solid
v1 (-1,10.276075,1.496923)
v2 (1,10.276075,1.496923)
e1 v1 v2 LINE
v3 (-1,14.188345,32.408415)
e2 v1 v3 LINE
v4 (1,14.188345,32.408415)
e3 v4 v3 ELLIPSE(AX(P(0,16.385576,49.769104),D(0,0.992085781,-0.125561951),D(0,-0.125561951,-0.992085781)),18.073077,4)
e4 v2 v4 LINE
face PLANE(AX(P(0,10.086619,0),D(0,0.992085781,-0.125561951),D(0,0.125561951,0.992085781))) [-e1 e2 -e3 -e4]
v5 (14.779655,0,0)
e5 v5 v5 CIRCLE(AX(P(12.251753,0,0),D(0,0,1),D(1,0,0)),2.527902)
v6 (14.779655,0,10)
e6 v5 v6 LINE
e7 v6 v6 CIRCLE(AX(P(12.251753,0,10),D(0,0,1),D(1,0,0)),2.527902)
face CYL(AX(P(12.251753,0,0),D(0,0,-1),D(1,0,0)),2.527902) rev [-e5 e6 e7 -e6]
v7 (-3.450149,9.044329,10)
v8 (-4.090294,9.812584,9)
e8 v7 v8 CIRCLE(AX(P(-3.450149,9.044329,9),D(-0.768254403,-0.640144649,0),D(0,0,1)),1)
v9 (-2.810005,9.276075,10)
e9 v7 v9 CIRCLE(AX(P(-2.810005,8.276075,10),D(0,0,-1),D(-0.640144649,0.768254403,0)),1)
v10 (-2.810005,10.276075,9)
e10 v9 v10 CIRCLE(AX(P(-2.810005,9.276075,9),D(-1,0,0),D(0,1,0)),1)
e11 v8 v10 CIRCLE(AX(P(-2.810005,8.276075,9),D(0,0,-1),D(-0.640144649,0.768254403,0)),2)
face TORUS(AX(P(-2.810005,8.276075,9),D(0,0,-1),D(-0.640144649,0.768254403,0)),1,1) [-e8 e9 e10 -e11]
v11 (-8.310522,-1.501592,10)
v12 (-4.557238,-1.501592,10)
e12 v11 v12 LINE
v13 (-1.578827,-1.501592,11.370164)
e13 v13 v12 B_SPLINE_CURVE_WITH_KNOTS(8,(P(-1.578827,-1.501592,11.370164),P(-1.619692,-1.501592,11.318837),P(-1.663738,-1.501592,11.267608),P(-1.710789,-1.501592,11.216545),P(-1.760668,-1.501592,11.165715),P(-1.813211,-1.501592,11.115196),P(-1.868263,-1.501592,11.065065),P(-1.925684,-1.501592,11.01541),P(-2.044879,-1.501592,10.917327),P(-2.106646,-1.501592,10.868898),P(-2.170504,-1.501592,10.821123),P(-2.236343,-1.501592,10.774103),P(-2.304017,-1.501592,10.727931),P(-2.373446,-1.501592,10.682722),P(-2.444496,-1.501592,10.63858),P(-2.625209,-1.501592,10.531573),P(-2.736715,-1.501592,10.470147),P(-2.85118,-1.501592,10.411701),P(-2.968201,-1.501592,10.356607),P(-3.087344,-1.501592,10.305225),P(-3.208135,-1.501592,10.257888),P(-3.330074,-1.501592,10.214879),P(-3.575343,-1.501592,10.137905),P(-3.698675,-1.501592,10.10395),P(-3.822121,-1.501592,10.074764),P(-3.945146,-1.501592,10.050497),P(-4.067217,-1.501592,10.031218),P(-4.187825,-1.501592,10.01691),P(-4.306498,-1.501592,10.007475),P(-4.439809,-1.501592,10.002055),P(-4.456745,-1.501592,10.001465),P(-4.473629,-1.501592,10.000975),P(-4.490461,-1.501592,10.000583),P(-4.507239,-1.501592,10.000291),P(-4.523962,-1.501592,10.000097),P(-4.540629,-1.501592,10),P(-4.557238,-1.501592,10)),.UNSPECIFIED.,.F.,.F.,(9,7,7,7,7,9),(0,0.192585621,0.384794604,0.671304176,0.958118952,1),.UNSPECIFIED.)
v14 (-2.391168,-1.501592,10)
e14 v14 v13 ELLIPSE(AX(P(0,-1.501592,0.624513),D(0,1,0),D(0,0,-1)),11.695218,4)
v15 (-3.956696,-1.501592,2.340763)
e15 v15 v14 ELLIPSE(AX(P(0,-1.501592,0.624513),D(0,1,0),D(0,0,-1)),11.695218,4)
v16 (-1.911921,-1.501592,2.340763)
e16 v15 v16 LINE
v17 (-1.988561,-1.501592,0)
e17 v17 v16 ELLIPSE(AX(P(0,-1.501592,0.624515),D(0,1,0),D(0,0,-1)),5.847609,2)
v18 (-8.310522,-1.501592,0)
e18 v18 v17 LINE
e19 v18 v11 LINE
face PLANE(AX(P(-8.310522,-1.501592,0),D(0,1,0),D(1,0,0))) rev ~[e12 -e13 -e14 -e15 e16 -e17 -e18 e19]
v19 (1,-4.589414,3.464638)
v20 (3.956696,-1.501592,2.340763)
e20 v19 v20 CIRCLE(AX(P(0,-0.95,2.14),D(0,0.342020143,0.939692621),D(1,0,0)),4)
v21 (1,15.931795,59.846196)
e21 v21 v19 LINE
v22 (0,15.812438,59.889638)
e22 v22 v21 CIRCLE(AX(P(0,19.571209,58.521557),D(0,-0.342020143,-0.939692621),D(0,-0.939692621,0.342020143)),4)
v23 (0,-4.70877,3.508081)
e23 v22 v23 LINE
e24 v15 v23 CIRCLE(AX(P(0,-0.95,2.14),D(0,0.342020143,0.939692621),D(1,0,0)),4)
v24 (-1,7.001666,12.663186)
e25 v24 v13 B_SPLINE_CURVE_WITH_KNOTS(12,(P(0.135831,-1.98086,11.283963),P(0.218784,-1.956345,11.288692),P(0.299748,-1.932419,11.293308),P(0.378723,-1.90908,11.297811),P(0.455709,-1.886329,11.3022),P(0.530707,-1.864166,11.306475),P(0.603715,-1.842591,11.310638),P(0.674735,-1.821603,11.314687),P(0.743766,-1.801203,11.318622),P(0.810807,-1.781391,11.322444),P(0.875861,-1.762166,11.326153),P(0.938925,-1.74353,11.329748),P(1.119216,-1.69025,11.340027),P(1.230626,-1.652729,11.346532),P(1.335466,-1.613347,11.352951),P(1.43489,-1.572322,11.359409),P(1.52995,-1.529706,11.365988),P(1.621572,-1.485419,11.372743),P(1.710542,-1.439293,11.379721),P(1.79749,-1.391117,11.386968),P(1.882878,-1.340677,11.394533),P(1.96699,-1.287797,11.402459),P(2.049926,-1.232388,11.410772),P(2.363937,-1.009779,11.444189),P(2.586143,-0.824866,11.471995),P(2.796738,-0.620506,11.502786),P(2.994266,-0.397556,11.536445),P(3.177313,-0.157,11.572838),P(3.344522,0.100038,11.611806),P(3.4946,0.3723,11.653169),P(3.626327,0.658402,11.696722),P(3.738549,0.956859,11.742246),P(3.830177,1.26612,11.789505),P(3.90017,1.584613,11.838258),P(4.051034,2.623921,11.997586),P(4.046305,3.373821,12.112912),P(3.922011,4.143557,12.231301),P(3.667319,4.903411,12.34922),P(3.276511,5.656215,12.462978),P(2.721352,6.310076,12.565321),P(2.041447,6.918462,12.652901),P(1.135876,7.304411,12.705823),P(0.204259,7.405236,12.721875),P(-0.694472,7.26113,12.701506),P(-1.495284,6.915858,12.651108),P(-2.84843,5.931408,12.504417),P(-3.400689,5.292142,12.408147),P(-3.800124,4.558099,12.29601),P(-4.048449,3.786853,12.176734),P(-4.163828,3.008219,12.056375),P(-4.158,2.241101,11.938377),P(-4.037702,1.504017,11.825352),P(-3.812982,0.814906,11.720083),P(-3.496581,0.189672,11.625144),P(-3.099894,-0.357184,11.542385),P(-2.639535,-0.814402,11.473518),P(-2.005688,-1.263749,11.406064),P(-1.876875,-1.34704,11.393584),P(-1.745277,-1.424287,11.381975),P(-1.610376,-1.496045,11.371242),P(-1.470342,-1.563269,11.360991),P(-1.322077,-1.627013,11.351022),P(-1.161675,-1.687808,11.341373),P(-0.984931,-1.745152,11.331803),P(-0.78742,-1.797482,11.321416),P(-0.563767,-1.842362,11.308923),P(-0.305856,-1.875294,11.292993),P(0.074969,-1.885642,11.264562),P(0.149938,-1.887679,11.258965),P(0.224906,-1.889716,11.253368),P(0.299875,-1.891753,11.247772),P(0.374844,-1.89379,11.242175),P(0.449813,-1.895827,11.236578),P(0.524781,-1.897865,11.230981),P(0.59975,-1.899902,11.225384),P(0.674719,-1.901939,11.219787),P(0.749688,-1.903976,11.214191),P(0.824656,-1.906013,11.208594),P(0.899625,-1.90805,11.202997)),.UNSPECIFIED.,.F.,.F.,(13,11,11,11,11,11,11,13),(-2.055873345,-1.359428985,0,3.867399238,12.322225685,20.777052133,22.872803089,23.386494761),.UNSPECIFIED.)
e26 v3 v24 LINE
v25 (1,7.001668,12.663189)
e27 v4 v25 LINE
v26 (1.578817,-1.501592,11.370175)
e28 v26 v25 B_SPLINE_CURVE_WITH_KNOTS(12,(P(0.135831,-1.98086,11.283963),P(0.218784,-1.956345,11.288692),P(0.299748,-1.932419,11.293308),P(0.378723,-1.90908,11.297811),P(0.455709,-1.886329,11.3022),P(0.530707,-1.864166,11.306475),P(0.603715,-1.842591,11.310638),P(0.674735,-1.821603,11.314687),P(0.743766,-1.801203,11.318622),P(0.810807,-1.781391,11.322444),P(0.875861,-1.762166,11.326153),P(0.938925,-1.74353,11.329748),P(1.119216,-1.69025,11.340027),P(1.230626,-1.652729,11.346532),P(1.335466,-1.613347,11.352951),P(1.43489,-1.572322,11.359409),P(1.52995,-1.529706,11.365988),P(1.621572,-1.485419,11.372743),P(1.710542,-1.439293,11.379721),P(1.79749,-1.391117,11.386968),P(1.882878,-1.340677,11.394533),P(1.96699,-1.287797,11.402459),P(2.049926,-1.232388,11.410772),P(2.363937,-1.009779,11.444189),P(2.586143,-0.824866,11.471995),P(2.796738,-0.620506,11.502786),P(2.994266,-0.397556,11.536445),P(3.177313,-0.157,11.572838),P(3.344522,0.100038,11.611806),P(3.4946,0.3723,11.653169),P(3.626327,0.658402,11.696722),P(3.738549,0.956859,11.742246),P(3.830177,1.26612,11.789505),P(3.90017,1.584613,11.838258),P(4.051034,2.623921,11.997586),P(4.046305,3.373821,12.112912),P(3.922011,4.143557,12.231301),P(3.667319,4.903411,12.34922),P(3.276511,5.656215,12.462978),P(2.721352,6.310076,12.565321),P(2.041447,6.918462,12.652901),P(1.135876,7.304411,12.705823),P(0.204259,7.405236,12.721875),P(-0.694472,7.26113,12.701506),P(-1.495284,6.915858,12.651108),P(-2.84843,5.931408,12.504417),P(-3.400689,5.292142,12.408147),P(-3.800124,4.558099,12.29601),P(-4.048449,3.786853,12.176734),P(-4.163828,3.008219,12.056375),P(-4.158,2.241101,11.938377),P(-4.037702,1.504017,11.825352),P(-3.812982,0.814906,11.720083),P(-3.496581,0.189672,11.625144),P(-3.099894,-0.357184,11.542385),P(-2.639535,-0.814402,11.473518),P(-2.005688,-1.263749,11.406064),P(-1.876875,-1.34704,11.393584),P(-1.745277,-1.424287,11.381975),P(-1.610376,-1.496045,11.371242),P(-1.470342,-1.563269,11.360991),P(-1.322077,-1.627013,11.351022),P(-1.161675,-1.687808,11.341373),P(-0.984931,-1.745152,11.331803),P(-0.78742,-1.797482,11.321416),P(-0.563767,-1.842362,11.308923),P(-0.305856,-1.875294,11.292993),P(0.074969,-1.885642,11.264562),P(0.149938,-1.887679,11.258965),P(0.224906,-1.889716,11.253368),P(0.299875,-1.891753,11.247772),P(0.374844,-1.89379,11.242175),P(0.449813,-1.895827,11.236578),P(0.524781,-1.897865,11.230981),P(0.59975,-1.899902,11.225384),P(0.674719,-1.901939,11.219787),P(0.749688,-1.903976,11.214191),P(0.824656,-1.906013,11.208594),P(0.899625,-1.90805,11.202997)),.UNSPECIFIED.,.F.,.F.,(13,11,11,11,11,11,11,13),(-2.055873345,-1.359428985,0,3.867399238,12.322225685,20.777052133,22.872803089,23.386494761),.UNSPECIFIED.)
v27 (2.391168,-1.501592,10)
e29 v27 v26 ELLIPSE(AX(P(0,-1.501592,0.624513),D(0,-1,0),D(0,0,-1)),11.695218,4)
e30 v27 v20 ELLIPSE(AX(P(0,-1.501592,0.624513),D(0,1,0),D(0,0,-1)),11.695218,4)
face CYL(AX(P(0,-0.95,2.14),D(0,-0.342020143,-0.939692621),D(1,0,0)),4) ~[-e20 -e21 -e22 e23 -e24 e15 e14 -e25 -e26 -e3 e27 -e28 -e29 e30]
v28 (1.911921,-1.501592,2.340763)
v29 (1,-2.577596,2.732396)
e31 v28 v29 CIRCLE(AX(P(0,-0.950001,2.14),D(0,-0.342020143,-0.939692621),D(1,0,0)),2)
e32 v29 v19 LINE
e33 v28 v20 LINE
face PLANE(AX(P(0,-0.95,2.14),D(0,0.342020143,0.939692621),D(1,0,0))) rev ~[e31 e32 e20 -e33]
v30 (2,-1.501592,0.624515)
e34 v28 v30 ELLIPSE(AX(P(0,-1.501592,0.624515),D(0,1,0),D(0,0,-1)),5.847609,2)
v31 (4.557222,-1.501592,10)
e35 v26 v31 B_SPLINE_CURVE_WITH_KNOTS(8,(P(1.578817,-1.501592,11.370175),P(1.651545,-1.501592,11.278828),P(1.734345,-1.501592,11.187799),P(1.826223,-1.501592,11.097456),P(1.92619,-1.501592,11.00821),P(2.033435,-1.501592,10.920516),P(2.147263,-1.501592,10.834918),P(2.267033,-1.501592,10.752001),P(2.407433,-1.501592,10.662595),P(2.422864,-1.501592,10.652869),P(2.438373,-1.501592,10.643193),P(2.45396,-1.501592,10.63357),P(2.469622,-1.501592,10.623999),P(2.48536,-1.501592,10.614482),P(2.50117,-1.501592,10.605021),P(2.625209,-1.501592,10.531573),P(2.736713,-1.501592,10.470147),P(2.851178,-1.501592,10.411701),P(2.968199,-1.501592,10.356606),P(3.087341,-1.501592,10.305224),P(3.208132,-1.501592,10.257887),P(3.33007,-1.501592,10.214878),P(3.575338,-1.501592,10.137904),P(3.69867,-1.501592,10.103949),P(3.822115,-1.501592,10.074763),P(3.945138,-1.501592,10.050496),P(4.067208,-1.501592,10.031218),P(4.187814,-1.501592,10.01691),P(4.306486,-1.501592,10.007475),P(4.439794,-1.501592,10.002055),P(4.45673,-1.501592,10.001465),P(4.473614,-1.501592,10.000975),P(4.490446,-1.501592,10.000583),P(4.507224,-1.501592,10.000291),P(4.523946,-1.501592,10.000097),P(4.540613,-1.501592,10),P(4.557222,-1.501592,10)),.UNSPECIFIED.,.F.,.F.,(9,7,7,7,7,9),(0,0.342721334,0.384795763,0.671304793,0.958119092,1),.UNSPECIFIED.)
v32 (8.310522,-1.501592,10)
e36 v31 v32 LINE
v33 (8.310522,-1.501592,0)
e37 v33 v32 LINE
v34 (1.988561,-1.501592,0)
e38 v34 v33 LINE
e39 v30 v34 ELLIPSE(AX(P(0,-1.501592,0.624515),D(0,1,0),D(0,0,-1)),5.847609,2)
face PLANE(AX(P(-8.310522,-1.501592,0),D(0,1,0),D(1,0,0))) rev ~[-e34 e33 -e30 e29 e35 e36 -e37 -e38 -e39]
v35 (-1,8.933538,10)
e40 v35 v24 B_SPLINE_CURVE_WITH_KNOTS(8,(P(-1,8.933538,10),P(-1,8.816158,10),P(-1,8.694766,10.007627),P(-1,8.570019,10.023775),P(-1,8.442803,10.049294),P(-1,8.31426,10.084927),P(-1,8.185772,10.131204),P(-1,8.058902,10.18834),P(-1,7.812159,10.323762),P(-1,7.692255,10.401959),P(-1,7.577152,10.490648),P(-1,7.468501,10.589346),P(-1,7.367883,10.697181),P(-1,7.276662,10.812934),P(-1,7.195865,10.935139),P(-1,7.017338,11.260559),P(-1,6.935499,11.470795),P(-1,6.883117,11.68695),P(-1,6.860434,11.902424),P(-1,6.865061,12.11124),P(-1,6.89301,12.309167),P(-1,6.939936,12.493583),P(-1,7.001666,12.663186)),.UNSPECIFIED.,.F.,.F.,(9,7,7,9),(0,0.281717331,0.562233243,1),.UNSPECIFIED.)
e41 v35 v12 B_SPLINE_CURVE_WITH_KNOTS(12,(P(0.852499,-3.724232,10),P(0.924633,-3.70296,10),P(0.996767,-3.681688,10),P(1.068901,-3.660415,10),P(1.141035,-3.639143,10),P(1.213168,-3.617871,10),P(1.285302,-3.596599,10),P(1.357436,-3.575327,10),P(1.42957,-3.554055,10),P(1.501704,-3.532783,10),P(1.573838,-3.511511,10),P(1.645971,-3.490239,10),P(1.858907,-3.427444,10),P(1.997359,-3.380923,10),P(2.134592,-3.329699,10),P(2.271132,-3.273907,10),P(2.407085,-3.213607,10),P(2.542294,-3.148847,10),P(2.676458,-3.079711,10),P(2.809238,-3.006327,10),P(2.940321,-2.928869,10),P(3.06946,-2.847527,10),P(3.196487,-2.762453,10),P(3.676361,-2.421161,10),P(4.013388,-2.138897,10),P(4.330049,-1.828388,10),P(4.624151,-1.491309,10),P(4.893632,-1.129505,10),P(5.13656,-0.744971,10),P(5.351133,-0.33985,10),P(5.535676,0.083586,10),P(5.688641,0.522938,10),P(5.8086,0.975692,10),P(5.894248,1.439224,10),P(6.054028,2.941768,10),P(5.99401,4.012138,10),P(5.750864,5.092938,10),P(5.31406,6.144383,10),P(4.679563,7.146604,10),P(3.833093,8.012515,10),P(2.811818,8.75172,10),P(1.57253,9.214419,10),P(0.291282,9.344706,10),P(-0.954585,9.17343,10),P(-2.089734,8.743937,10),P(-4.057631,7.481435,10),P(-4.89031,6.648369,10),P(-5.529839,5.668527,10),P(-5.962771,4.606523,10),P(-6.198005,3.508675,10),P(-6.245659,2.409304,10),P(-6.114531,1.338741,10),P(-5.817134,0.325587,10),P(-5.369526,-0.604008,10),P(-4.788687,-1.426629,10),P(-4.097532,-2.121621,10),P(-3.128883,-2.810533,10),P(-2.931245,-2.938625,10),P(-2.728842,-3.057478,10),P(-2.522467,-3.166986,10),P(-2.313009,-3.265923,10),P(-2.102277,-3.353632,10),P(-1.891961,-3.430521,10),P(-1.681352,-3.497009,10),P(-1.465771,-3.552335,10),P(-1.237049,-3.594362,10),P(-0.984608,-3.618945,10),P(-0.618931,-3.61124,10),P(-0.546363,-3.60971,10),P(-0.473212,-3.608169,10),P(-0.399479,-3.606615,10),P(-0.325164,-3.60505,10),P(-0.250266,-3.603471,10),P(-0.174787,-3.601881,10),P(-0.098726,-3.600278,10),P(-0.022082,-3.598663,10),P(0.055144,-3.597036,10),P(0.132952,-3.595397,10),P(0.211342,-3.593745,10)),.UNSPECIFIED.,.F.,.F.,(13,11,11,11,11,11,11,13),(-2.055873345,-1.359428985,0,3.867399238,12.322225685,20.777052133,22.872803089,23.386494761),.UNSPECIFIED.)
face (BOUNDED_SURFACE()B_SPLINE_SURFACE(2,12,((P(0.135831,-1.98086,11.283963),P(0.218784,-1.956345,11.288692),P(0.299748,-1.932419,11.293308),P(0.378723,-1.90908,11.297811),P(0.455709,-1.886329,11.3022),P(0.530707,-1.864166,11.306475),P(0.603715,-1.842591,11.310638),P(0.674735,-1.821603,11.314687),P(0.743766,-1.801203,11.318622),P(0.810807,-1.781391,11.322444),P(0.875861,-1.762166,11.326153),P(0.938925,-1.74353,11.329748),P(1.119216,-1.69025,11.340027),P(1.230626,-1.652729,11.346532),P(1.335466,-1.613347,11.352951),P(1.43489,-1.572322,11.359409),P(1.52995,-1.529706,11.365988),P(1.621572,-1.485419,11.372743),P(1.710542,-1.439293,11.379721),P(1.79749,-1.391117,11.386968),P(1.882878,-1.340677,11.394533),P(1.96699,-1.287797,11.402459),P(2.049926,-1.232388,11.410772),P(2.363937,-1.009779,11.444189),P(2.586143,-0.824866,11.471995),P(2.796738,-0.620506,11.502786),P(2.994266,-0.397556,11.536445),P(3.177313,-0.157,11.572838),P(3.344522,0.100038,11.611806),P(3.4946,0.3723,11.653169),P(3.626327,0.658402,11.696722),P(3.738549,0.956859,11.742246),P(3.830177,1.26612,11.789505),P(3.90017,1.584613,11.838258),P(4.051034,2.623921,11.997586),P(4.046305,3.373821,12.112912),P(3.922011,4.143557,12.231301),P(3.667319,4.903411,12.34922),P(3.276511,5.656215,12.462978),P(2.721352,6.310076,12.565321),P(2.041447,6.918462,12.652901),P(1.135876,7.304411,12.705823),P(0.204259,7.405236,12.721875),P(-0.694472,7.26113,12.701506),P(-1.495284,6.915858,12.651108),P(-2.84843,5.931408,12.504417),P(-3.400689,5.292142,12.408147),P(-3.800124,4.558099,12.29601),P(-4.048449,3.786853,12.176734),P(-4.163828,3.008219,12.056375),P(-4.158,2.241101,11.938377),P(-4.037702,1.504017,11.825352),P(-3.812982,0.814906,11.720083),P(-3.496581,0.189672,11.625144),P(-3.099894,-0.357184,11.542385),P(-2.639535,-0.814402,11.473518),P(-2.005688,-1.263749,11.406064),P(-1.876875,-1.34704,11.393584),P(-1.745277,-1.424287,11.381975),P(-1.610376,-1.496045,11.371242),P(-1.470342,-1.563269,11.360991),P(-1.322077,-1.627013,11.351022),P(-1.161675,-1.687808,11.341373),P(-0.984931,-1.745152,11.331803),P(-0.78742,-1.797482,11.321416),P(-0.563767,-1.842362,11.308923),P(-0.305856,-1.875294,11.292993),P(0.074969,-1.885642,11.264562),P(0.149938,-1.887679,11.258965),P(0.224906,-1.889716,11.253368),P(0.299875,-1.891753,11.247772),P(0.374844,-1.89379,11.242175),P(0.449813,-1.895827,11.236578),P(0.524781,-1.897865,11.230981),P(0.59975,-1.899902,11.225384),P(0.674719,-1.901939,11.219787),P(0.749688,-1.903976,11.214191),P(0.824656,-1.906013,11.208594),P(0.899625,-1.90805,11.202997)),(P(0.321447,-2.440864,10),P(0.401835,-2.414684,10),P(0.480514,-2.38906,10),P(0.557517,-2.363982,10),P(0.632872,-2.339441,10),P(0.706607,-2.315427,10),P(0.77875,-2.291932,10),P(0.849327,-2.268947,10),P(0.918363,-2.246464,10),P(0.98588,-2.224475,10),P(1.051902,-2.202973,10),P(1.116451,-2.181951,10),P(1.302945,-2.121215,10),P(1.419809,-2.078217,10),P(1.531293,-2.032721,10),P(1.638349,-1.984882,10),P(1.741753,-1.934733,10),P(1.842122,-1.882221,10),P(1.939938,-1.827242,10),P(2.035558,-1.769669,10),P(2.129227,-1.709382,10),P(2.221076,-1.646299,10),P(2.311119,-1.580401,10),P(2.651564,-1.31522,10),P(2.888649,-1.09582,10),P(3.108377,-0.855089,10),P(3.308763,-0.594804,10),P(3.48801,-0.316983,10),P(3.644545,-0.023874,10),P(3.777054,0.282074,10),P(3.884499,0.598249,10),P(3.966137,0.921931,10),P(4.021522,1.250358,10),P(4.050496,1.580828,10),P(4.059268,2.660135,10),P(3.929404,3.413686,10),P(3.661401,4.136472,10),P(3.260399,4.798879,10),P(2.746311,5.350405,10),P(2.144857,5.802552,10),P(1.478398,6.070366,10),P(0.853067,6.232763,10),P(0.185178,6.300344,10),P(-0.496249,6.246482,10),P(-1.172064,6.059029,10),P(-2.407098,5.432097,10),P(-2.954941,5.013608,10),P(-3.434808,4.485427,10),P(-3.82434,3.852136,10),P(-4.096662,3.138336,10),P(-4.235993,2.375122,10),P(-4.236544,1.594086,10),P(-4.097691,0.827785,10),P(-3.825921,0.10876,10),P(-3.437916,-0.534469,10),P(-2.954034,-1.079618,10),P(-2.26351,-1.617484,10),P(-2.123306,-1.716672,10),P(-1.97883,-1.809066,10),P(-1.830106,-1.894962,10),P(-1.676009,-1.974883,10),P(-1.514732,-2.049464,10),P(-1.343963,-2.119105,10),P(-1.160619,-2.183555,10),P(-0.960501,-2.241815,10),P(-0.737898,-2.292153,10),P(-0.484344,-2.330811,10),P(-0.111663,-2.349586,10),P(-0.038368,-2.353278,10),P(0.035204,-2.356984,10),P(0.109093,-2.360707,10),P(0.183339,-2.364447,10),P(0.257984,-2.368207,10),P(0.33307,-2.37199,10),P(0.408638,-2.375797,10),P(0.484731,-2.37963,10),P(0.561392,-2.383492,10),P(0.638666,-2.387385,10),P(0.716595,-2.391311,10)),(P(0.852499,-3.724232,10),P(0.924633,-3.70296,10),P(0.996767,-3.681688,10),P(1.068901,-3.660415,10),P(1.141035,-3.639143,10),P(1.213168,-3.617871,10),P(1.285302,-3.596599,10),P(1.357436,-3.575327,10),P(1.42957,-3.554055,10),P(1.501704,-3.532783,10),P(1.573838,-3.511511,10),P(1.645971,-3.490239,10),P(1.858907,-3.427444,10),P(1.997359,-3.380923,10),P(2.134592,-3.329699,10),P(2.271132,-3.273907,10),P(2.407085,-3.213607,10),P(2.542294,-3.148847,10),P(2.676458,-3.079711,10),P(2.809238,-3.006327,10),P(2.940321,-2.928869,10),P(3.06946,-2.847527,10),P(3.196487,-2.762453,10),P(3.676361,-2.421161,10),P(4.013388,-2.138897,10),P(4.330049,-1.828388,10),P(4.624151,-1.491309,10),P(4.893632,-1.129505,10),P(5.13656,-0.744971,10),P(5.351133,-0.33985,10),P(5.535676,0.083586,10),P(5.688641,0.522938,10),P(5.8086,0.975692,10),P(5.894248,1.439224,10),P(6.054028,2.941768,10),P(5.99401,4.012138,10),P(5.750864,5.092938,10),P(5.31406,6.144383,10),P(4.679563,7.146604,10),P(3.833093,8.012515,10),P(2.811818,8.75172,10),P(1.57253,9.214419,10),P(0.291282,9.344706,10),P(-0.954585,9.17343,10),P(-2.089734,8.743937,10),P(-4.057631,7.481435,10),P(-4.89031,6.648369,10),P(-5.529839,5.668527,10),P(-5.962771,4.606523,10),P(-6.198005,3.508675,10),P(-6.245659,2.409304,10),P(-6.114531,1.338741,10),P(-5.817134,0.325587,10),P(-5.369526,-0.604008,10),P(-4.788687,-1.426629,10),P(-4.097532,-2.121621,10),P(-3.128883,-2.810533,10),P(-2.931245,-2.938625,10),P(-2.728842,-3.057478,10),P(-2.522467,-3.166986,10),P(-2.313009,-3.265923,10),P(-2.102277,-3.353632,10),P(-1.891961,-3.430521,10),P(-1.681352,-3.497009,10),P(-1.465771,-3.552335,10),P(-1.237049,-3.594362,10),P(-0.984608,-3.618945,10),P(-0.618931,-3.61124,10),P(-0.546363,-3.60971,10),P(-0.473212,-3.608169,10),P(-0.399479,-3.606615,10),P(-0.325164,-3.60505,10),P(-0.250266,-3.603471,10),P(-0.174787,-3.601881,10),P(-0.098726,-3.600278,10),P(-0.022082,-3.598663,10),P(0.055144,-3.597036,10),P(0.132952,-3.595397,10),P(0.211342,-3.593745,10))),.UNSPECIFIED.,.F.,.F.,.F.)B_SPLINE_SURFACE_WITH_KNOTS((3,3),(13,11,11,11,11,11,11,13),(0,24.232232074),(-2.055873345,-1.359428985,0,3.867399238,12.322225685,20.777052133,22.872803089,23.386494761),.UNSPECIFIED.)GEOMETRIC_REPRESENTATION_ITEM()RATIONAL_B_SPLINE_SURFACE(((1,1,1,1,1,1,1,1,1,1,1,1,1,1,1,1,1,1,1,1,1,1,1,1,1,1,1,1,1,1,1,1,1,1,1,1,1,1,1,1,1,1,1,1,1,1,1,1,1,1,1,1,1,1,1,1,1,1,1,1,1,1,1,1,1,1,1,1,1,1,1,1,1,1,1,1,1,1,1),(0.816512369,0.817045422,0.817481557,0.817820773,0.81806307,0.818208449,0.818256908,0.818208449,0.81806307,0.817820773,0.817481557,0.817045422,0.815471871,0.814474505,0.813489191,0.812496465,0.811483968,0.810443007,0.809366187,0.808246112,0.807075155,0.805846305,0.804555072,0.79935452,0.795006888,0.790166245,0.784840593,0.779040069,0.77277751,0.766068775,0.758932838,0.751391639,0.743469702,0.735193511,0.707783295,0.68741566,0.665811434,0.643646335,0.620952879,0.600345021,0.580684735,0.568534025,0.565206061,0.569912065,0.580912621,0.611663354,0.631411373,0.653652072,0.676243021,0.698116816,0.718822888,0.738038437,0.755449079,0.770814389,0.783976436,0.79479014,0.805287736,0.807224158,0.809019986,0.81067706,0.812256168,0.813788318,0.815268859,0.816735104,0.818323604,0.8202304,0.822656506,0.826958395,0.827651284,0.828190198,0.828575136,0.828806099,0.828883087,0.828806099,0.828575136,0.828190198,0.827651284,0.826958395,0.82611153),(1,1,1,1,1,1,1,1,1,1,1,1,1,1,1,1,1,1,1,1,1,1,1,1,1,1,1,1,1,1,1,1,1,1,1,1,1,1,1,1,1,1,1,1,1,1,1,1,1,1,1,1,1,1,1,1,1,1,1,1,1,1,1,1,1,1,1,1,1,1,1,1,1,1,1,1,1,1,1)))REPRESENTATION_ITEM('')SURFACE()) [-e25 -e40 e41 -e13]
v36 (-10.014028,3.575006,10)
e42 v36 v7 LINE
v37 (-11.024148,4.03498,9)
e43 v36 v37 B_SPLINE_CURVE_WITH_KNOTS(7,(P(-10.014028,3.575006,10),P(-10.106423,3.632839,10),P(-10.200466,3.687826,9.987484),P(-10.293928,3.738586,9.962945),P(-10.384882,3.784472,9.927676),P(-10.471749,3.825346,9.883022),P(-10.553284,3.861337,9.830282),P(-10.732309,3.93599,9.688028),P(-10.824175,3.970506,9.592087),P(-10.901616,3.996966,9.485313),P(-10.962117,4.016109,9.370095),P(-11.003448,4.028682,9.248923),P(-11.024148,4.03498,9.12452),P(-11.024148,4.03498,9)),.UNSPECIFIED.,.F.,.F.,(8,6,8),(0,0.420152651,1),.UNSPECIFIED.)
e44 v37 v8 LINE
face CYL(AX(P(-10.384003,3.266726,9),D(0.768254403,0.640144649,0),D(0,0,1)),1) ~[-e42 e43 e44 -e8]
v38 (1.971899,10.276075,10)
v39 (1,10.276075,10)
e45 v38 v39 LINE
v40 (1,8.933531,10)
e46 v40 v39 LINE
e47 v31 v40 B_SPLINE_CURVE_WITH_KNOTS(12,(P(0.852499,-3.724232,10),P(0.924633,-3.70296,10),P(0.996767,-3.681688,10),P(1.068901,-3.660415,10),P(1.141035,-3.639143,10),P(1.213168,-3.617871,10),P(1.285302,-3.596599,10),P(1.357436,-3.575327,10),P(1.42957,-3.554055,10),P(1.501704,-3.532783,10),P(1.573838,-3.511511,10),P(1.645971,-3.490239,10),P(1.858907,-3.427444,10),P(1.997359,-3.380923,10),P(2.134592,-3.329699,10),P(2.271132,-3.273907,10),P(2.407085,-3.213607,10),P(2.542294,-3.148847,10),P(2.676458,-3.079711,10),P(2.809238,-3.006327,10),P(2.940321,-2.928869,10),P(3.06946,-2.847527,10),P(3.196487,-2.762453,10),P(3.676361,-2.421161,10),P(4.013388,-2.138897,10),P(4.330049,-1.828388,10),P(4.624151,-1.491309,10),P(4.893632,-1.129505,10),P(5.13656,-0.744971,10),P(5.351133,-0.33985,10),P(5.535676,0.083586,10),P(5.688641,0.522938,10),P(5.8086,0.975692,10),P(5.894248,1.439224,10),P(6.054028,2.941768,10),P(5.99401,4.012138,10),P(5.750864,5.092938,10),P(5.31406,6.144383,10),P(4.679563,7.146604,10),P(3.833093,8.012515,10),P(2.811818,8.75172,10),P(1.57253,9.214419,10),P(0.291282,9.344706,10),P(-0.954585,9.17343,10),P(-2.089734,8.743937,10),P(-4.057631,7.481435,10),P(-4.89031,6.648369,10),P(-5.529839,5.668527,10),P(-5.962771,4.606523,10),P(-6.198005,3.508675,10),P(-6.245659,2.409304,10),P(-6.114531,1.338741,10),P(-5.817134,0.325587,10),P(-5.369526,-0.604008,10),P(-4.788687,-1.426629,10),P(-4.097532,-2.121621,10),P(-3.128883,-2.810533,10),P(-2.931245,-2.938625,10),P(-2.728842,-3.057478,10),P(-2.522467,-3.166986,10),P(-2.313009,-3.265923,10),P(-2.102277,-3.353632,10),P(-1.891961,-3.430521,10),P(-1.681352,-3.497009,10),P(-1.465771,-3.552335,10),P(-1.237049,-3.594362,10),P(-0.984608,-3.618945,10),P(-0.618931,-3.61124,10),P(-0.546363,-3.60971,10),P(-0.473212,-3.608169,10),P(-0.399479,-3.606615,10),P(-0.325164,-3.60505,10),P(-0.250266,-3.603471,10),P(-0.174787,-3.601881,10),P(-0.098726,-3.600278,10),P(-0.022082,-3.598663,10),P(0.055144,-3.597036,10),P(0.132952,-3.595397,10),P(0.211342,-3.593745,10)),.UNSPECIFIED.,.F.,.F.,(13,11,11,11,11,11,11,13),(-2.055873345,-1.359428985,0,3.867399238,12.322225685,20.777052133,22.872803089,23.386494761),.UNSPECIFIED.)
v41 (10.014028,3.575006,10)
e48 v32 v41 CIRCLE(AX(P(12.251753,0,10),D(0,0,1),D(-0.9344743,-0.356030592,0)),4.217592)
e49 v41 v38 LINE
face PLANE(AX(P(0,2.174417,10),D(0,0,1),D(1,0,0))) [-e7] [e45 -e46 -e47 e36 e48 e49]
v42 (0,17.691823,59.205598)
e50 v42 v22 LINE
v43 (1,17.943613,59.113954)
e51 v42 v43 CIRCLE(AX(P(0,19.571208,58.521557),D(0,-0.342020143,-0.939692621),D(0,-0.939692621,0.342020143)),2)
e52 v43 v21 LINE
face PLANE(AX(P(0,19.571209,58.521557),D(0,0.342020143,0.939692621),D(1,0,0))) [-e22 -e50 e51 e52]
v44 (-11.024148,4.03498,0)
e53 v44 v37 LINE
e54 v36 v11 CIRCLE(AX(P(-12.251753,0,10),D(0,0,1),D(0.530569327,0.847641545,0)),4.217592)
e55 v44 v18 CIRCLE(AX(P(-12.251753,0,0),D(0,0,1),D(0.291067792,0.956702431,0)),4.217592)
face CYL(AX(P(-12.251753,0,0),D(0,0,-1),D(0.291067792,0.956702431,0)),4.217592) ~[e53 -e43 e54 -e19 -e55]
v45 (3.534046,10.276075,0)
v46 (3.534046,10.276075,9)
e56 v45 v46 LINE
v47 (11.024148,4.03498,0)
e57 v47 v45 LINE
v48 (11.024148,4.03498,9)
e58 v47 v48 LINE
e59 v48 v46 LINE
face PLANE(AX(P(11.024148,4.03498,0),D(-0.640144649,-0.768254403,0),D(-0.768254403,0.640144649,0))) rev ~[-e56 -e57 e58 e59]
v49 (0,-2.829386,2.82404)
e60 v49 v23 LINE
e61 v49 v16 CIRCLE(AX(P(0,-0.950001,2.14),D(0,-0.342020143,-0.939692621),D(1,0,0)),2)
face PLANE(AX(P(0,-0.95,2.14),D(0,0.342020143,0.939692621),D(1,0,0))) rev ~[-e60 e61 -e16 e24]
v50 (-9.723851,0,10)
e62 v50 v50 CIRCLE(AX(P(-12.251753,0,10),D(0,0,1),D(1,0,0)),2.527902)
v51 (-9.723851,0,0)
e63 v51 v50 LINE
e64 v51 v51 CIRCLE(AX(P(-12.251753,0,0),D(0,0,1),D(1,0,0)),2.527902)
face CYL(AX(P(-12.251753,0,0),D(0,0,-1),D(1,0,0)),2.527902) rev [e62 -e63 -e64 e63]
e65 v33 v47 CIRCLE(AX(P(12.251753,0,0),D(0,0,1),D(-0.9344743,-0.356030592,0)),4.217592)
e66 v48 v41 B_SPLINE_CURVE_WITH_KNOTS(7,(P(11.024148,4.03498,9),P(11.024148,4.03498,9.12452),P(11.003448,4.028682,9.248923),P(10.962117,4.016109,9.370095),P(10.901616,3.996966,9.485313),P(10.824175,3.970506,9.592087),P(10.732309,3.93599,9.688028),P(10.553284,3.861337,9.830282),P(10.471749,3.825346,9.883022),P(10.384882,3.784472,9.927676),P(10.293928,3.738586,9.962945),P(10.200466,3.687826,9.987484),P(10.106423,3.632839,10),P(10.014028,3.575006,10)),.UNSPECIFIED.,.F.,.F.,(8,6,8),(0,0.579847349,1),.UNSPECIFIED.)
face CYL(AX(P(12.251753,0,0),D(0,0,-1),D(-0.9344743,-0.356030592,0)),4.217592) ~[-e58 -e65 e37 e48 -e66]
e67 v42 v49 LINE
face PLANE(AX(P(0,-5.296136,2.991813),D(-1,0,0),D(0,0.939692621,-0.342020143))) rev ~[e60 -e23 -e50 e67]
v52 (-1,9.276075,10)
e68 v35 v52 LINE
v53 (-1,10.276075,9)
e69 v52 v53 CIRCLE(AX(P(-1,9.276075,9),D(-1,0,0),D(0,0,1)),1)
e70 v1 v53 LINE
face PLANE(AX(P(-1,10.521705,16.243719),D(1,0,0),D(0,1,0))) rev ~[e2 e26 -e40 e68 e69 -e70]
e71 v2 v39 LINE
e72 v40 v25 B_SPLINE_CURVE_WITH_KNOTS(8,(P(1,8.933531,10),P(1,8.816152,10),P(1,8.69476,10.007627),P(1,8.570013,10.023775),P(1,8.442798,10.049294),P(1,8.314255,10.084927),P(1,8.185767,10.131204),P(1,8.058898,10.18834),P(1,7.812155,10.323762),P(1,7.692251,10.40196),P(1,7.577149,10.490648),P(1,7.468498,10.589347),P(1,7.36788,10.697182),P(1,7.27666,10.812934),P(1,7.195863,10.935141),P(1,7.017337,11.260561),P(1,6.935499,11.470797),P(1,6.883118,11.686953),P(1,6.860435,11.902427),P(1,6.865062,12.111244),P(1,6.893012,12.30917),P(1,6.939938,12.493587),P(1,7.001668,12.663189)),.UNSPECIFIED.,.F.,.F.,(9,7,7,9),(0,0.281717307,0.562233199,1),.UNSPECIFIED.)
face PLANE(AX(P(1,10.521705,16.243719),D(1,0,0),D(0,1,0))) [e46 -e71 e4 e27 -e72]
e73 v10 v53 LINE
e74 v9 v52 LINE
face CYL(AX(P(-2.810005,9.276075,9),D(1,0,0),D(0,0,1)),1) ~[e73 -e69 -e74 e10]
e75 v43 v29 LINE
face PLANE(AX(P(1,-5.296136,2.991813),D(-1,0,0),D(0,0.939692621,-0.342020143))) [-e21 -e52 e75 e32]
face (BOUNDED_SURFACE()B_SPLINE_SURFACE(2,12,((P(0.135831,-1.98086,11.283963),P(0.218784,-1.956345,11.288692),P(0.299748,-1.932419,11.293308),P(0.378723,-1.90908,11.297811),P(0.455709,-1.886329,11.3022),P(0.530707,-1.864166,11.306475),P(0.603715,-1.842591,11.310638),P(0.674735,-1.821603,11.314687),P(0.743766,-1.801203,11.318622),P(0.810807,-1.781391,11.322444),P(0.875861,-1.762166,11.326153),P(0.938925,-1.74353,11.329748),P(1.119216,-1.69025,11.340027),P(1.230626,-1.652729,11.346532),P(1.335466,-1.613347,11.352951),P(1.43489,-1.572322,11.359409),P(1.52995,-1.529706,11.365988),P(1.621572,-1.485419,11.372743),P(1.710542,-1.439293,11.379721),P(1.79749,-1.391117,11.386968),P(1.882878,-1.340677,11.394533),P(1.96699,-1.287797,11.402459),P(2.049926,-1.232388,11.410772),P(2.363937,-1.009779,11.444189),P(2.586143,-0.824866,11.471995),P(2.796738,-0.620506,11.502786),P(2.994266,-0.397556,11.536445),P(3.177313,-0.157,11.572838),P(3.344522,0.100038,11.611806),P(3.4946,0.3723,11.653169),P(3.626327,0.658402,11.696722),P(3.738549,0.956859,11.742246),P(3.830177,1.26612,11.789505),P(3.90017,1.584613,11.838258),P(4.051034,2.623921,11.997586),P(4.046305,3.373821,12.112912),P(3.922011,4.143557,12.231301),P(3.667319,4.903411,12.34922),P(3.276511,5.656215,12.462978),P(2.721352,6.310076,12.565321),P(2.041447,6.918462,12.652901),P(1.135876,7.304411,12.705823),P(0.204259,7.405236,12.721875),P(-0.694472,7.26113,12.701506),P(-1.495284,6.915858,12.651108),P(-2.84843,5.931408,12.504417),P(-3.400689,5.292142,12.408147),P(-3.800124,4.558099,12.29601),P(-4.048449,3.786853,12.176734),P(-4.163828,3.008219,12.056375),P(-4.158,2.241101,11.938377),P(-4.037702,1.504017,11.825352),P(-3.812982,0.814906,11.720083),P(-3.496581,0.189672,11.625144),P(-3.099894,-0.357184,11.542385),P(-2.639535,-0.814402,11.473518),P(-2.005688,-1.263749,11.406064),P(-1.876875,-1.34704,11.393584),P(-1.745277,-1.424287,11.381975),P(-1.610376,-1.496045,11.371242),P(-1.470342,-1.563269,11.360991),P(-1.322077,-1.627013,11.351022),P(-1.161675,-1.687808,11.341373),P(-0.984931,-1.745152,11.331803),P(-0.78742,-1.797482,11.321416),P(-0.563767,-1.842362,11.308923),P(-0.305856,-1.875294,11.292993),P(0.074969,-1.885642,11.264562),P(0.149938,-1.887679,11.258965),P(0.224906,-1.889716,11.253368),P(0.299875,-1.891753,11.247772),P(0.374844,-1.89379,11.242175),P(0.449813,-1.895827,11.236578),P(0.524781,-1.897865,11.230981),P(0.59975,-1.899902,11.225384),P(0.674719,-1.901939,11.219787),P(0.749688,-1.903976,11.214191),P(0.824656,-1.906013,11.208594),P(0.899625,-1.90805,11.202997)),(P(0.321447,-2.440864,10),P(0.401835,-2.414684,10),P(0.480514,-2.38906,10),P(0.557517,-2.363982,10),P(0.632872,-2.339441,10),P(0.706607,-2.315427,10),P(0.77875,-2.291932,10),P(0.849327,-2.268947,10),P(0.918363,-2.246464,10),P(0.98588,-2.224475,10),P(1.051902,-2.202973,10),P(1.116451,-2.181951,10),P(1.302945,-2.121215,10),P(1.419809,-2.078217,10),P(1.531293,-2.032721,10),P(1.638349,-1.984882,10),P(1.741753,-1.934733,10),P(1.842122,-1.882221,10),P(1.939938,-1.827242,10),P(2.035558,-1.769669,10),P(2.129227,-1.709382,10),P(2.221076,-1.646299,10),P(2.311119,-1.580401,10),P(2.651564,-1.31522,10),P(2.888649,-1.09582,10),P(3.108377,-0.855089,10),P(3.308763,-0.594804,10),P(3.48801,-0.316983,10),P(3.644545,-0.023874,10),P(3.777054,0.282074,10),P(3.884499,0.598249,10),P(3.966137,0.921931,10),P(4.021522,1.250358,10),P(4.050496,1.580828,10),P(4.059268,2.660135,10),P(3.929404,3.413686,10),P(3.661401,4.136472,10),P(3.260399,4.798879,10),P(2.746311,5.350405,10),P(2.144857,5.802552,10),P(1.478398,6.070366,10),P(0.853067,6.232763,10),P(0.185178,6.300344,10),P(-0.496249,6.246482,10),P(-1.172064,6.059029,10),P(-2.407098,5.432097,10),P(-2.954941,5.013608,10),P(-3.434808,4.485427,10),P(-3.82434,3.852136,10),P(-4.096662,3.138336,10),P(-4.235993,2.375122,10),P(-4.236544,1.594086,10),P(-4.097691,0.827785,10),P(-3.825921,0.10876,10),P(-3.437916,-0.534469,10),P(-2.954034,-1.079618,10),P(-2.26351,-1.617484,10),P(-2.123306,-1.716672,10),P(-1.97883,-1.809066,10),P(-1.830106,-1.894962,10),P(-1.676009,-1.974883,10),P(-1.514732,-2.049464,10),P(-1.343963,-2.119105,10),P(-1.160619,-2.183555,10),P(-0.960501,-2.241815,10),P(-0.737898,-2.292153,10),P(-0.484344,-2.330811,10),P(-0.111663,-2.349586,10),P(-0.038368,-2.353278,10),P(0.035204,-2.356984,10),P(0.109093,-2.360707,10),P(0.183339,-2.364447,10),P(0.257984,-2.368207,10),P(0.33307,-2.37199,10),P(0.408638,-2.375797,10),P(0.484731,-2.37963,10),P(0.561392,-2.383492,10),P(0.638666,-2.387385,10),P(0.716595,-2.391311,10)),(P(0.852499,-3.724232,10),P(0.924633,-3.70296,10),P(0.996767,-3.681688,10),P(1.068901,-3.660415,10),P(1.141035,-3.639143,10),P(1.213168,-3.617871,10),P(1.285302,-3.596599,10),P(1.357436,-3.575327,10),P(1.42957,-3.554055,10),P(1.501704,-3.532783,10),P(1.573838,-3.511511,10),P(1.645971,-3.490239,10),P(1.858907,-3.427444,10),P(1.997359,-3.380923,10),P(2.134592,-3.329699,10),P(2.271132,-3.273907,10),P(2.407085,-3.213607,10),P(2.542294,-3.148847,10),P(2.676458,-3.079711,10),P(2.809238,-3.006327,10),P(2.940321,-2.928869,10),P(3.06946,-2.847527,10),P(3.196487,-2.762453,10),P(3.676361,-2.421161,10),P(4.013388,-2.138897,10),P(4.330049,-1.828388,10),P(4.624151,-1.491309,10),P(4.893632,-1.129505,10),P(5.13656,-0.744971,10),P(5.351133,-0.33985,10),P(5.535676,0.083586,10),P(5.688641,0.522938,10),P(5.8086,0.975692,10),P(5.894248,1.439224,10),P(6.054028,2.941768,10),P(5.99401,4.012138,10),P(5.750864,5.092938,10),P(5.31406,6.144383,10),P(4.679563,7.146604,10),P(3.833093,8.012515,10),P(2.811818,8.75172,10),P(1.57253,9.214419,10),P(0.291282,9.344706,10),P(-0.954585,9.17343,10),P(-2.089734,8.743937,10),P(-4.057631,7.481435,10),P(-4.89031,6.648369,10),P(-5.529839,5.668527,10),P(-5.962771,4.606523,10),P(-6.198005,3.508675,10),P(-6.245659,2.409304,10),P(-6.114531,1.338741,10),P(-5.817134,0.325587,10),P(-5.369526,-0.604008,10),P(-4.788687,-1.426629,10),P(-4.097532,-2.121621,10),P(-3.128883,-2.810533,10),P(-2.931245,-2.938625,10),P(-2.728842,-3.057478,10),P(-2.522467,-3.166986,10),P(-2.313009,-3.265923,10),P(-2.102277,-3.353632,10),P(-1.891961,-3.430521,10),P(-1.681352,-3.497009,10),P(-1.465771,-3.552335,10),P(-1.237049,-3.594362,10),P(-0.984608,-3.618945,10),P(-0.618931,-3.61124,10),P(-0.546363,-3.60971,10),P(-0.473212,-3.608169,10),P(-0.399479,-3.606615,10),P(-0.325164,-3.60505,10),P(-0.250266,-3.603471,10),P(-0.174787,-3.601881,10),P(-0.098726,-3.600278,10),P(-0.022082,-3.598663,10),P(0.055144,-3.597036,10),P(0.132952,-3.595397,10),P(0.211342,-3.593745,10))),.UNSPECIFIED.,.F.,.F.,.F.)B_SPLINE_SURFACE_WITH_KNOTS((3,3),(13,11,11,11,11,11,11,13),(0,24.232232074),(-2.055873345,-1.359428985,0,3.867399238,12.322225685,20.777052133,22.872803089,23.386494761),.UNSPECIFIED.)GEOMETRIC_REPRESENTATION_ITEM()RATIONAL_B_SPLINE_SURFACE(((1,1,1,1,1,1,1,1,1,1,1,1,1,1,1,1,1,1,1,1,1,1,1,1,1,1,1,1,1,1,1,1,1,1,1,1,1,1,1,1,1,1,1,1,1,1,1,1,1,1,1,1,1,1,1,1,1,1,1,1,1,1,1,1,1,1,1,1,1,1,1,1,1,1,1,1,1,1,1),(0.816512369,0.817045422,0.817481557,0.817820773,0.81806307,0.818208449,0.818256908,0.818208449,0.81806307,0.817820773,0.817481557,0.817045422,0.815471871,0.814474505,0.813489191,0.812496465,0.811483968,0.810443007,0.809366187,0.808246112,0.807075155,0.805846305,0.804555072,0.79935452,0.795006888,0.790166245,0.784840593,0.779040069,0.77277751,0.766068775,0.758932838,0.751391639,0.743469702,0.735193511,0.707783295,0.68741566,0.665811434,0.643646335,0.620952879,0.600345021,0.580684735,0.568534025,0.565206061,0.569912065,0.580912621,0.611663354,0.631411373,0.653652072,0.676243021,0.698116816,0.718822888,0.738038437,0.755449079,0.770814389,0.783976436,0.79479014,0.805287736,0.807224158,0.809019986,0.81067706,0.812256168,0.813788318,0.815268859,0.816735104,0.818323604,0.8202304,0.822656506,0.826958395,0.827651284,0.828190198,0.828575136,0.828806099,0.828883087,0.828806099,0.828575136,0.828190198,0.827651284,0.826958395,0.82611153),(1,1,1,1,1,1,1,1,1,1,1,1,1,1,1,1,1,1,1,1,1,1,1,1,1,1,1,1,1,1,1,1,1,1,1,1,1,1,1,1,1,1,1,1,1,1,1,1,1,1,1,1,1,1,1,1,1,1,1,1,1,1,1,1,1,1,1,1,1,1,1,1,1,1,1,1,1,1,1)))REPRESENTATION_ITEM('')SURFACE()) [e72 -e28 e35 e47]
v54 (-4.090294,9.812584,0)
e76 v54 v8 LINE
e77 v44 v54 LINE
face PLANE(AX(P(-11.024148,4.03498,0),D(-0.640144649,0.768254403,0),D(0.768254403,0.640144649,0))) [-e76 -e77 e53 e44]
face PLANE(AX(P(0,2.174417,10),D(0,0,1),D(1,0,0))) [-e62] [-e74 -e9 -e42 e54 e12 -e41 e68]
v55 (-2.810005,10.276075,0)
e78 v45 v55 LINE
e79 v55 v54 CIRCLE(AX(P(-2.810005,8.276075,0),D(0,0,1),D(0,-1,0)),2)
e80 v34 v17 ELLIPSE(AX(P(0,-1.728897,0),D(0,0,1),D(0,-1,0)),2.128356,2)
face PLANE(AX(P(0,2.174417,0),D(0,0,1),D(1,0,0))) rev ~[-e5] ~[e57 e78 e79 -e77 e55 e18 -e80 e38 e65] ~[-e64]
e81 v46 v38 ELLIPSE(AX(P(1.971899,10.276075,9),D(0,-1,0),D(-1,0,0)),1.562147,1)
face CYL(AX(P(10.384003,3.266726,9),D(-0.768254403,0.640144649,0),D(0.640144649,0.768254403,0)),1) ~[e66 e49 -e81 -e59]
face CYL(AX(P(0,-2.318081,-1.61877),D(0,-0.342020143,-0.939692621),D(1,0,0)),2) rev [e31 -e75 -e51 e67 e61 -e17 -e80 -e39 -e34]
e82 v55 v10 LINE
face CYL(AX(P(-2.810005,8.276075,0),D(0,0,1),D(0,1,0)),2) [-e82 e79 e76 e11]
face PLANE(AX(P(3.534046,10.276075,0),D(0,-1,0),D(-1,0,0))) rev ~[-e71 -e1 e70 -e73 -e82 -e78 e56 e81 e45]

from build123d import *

# Parameters (mm, degrees)
PAD001_DEPTH                = 1
BOX_W                       = 1
BOX_H                       = 4
BOX_DEPTH                   = 62
BOX_PLACEMENT_ANGLE         = 340
CYLINDER_R                  = 2
CYLINDER_DEPTH              = 67
CYLINDER_PLACEMENT_ANGLE    = 340
CYLINDER001_R               = 4
CYLINDER001_DEPTH           = 60
CYLINDER001_PLACEMENT_ANGLE = 20
SKETCH_R                    = 2.527902
PAD_DEPTH                   = 10
FILLET_R                    = 2
FILLET001_R                 = 2
FILLET003_R                 = 1


with BuildPart() as body001:
    # Sketch001 → Pad001 (new body, symmetric)
    with BuildSketch(Plane.YZ):
        Polygon((11.126045, 25.12734), (5.15667, 9.780665), (10.086619, 0), (14.214679, 32.616486), align=None)
    extrude(amount=PAD001_DEPTH, both=True)


with BuildPart() as box:
    # Box → Box (new body)
    with BuildSketch(Plane.XY):
        with Locations((0.5, 2)):
            Rectangle(BOX_W, BOX_H)
    extrude(amount=BOX_DEPTH)


with BuildPart() as box_1:
    # Box placement: moved
    add(box.part.moved(Location((0, -5.296136, 2.991813))).rotate(Axis((0, -5.296136, 2.991813), (1, 0, 0)), BOX_PLACEMENT_ANGLE))


with BuildPart() as cylinder:
    # Cylinder → Cylinder (new body)
    with BuildSketch(Plane.XY):
        Circle(CYLINDER_R)
    extrude(amount=CYLINDER_DEPTH)


with BuildPart() as cylinder_1:
    # Cylinder placement: moved
    add(cylinder.part.moved(Location((0, -2.318081, -1.61877))).rotate(Axis((0, -2.318081, -1.61877), (1, 0, 0)), CYLINDER_PLACEMENT_ANGLE))


with BuildPart() as cylinder001:
    # Cylinder001 → Cylinder001 (new body)
    with BuildSketch(Plane.XY):
        Circle(CYLINDER001_R)
    extrude(amount=CYLINDER001_DEPTH)


with BuildPart() as cylinder001_1:
    # Cylinder001 placement: moved
    add(cylinder001.part.moved(Location((0, -0.95, 2.14))).rotate(Axis((0, -0.95, 2.14), (-1, 0, 0)), CYLINDER001_PLACEMENT_ANGLE))


with BuildPart() as fillet003:
    # Sketch → Pad (new body)
    with BuildSketch(Plane.XY):
        with BuildLine():
            ThreePointArc((-11.024148, 4.03498), (-16.038919, -1.856194), (-8.310522, -1.501592))
            Line((-8.310522, -1.501592), (0, -1.501592))
            Line((8.310522, -1.501592), (0, -1.501592))
            ThreePointArc((8.310522, -1.501592), (16.038919, -1.856194), (11.024148, 4.03498))
            Line((11.024148, 4.03498), (3.534046, 10.276075))
            Line((3.534046, 10.276075), (0, 10.276075))
            Line((-3.534046, 10.276075), (0, 10.276075))
            Line((-11.024148, 4.03498), (-3.534046, 10.276075))
        make_face()
        with Locations((-12.251753, 0)):
            Circle(SKETCH_R, mode=Mode.SUBTRACT)
        with Locations((12.251753, 0)):
            Circle(SKETCH_R, mode=Mode.SUBTRACT)
    extrude(amount=PAD_DEPTH)

    # Fusion: union Cylinder001
    add(cylinder001_1.part)

    # Cut: cut Cylinder
    add(cylinder_1.part, mode=Mode.SUBTRACT)

    # Cut001: cut Box
    add(box_1.part, mode=Mode.SUBTRACT)

    # Fillet
    fillet_edges = [fillet003.edges().sort_by_distance(p)[0] for p in [
        (-1.866147, 5.675875, 10),
    ]]
    fillet(fillet_edges, radius=FILLET_R)

    # Fusion001: union Body001
    add(body001.part)

    # Fillet001
    fillet001_edges = [fillet003.edges().sort_by_distance(p)[0] for p in [
        (-3.534046, 10.276075, 5),
    ]]
    fillet(fillet001_edges, radius=FILLET001_R)

    # Fillet003
    fillet003_edges = [fillet003.edges().sort_by_distance(p)[0] for p in [
        (-7.557221, 6.923782, 10),
        (7.279097, 7.155528, 10),
    ]]
    fillet(fillet003_edges, radius=FILLET003_R)


solid = fillet003.part
